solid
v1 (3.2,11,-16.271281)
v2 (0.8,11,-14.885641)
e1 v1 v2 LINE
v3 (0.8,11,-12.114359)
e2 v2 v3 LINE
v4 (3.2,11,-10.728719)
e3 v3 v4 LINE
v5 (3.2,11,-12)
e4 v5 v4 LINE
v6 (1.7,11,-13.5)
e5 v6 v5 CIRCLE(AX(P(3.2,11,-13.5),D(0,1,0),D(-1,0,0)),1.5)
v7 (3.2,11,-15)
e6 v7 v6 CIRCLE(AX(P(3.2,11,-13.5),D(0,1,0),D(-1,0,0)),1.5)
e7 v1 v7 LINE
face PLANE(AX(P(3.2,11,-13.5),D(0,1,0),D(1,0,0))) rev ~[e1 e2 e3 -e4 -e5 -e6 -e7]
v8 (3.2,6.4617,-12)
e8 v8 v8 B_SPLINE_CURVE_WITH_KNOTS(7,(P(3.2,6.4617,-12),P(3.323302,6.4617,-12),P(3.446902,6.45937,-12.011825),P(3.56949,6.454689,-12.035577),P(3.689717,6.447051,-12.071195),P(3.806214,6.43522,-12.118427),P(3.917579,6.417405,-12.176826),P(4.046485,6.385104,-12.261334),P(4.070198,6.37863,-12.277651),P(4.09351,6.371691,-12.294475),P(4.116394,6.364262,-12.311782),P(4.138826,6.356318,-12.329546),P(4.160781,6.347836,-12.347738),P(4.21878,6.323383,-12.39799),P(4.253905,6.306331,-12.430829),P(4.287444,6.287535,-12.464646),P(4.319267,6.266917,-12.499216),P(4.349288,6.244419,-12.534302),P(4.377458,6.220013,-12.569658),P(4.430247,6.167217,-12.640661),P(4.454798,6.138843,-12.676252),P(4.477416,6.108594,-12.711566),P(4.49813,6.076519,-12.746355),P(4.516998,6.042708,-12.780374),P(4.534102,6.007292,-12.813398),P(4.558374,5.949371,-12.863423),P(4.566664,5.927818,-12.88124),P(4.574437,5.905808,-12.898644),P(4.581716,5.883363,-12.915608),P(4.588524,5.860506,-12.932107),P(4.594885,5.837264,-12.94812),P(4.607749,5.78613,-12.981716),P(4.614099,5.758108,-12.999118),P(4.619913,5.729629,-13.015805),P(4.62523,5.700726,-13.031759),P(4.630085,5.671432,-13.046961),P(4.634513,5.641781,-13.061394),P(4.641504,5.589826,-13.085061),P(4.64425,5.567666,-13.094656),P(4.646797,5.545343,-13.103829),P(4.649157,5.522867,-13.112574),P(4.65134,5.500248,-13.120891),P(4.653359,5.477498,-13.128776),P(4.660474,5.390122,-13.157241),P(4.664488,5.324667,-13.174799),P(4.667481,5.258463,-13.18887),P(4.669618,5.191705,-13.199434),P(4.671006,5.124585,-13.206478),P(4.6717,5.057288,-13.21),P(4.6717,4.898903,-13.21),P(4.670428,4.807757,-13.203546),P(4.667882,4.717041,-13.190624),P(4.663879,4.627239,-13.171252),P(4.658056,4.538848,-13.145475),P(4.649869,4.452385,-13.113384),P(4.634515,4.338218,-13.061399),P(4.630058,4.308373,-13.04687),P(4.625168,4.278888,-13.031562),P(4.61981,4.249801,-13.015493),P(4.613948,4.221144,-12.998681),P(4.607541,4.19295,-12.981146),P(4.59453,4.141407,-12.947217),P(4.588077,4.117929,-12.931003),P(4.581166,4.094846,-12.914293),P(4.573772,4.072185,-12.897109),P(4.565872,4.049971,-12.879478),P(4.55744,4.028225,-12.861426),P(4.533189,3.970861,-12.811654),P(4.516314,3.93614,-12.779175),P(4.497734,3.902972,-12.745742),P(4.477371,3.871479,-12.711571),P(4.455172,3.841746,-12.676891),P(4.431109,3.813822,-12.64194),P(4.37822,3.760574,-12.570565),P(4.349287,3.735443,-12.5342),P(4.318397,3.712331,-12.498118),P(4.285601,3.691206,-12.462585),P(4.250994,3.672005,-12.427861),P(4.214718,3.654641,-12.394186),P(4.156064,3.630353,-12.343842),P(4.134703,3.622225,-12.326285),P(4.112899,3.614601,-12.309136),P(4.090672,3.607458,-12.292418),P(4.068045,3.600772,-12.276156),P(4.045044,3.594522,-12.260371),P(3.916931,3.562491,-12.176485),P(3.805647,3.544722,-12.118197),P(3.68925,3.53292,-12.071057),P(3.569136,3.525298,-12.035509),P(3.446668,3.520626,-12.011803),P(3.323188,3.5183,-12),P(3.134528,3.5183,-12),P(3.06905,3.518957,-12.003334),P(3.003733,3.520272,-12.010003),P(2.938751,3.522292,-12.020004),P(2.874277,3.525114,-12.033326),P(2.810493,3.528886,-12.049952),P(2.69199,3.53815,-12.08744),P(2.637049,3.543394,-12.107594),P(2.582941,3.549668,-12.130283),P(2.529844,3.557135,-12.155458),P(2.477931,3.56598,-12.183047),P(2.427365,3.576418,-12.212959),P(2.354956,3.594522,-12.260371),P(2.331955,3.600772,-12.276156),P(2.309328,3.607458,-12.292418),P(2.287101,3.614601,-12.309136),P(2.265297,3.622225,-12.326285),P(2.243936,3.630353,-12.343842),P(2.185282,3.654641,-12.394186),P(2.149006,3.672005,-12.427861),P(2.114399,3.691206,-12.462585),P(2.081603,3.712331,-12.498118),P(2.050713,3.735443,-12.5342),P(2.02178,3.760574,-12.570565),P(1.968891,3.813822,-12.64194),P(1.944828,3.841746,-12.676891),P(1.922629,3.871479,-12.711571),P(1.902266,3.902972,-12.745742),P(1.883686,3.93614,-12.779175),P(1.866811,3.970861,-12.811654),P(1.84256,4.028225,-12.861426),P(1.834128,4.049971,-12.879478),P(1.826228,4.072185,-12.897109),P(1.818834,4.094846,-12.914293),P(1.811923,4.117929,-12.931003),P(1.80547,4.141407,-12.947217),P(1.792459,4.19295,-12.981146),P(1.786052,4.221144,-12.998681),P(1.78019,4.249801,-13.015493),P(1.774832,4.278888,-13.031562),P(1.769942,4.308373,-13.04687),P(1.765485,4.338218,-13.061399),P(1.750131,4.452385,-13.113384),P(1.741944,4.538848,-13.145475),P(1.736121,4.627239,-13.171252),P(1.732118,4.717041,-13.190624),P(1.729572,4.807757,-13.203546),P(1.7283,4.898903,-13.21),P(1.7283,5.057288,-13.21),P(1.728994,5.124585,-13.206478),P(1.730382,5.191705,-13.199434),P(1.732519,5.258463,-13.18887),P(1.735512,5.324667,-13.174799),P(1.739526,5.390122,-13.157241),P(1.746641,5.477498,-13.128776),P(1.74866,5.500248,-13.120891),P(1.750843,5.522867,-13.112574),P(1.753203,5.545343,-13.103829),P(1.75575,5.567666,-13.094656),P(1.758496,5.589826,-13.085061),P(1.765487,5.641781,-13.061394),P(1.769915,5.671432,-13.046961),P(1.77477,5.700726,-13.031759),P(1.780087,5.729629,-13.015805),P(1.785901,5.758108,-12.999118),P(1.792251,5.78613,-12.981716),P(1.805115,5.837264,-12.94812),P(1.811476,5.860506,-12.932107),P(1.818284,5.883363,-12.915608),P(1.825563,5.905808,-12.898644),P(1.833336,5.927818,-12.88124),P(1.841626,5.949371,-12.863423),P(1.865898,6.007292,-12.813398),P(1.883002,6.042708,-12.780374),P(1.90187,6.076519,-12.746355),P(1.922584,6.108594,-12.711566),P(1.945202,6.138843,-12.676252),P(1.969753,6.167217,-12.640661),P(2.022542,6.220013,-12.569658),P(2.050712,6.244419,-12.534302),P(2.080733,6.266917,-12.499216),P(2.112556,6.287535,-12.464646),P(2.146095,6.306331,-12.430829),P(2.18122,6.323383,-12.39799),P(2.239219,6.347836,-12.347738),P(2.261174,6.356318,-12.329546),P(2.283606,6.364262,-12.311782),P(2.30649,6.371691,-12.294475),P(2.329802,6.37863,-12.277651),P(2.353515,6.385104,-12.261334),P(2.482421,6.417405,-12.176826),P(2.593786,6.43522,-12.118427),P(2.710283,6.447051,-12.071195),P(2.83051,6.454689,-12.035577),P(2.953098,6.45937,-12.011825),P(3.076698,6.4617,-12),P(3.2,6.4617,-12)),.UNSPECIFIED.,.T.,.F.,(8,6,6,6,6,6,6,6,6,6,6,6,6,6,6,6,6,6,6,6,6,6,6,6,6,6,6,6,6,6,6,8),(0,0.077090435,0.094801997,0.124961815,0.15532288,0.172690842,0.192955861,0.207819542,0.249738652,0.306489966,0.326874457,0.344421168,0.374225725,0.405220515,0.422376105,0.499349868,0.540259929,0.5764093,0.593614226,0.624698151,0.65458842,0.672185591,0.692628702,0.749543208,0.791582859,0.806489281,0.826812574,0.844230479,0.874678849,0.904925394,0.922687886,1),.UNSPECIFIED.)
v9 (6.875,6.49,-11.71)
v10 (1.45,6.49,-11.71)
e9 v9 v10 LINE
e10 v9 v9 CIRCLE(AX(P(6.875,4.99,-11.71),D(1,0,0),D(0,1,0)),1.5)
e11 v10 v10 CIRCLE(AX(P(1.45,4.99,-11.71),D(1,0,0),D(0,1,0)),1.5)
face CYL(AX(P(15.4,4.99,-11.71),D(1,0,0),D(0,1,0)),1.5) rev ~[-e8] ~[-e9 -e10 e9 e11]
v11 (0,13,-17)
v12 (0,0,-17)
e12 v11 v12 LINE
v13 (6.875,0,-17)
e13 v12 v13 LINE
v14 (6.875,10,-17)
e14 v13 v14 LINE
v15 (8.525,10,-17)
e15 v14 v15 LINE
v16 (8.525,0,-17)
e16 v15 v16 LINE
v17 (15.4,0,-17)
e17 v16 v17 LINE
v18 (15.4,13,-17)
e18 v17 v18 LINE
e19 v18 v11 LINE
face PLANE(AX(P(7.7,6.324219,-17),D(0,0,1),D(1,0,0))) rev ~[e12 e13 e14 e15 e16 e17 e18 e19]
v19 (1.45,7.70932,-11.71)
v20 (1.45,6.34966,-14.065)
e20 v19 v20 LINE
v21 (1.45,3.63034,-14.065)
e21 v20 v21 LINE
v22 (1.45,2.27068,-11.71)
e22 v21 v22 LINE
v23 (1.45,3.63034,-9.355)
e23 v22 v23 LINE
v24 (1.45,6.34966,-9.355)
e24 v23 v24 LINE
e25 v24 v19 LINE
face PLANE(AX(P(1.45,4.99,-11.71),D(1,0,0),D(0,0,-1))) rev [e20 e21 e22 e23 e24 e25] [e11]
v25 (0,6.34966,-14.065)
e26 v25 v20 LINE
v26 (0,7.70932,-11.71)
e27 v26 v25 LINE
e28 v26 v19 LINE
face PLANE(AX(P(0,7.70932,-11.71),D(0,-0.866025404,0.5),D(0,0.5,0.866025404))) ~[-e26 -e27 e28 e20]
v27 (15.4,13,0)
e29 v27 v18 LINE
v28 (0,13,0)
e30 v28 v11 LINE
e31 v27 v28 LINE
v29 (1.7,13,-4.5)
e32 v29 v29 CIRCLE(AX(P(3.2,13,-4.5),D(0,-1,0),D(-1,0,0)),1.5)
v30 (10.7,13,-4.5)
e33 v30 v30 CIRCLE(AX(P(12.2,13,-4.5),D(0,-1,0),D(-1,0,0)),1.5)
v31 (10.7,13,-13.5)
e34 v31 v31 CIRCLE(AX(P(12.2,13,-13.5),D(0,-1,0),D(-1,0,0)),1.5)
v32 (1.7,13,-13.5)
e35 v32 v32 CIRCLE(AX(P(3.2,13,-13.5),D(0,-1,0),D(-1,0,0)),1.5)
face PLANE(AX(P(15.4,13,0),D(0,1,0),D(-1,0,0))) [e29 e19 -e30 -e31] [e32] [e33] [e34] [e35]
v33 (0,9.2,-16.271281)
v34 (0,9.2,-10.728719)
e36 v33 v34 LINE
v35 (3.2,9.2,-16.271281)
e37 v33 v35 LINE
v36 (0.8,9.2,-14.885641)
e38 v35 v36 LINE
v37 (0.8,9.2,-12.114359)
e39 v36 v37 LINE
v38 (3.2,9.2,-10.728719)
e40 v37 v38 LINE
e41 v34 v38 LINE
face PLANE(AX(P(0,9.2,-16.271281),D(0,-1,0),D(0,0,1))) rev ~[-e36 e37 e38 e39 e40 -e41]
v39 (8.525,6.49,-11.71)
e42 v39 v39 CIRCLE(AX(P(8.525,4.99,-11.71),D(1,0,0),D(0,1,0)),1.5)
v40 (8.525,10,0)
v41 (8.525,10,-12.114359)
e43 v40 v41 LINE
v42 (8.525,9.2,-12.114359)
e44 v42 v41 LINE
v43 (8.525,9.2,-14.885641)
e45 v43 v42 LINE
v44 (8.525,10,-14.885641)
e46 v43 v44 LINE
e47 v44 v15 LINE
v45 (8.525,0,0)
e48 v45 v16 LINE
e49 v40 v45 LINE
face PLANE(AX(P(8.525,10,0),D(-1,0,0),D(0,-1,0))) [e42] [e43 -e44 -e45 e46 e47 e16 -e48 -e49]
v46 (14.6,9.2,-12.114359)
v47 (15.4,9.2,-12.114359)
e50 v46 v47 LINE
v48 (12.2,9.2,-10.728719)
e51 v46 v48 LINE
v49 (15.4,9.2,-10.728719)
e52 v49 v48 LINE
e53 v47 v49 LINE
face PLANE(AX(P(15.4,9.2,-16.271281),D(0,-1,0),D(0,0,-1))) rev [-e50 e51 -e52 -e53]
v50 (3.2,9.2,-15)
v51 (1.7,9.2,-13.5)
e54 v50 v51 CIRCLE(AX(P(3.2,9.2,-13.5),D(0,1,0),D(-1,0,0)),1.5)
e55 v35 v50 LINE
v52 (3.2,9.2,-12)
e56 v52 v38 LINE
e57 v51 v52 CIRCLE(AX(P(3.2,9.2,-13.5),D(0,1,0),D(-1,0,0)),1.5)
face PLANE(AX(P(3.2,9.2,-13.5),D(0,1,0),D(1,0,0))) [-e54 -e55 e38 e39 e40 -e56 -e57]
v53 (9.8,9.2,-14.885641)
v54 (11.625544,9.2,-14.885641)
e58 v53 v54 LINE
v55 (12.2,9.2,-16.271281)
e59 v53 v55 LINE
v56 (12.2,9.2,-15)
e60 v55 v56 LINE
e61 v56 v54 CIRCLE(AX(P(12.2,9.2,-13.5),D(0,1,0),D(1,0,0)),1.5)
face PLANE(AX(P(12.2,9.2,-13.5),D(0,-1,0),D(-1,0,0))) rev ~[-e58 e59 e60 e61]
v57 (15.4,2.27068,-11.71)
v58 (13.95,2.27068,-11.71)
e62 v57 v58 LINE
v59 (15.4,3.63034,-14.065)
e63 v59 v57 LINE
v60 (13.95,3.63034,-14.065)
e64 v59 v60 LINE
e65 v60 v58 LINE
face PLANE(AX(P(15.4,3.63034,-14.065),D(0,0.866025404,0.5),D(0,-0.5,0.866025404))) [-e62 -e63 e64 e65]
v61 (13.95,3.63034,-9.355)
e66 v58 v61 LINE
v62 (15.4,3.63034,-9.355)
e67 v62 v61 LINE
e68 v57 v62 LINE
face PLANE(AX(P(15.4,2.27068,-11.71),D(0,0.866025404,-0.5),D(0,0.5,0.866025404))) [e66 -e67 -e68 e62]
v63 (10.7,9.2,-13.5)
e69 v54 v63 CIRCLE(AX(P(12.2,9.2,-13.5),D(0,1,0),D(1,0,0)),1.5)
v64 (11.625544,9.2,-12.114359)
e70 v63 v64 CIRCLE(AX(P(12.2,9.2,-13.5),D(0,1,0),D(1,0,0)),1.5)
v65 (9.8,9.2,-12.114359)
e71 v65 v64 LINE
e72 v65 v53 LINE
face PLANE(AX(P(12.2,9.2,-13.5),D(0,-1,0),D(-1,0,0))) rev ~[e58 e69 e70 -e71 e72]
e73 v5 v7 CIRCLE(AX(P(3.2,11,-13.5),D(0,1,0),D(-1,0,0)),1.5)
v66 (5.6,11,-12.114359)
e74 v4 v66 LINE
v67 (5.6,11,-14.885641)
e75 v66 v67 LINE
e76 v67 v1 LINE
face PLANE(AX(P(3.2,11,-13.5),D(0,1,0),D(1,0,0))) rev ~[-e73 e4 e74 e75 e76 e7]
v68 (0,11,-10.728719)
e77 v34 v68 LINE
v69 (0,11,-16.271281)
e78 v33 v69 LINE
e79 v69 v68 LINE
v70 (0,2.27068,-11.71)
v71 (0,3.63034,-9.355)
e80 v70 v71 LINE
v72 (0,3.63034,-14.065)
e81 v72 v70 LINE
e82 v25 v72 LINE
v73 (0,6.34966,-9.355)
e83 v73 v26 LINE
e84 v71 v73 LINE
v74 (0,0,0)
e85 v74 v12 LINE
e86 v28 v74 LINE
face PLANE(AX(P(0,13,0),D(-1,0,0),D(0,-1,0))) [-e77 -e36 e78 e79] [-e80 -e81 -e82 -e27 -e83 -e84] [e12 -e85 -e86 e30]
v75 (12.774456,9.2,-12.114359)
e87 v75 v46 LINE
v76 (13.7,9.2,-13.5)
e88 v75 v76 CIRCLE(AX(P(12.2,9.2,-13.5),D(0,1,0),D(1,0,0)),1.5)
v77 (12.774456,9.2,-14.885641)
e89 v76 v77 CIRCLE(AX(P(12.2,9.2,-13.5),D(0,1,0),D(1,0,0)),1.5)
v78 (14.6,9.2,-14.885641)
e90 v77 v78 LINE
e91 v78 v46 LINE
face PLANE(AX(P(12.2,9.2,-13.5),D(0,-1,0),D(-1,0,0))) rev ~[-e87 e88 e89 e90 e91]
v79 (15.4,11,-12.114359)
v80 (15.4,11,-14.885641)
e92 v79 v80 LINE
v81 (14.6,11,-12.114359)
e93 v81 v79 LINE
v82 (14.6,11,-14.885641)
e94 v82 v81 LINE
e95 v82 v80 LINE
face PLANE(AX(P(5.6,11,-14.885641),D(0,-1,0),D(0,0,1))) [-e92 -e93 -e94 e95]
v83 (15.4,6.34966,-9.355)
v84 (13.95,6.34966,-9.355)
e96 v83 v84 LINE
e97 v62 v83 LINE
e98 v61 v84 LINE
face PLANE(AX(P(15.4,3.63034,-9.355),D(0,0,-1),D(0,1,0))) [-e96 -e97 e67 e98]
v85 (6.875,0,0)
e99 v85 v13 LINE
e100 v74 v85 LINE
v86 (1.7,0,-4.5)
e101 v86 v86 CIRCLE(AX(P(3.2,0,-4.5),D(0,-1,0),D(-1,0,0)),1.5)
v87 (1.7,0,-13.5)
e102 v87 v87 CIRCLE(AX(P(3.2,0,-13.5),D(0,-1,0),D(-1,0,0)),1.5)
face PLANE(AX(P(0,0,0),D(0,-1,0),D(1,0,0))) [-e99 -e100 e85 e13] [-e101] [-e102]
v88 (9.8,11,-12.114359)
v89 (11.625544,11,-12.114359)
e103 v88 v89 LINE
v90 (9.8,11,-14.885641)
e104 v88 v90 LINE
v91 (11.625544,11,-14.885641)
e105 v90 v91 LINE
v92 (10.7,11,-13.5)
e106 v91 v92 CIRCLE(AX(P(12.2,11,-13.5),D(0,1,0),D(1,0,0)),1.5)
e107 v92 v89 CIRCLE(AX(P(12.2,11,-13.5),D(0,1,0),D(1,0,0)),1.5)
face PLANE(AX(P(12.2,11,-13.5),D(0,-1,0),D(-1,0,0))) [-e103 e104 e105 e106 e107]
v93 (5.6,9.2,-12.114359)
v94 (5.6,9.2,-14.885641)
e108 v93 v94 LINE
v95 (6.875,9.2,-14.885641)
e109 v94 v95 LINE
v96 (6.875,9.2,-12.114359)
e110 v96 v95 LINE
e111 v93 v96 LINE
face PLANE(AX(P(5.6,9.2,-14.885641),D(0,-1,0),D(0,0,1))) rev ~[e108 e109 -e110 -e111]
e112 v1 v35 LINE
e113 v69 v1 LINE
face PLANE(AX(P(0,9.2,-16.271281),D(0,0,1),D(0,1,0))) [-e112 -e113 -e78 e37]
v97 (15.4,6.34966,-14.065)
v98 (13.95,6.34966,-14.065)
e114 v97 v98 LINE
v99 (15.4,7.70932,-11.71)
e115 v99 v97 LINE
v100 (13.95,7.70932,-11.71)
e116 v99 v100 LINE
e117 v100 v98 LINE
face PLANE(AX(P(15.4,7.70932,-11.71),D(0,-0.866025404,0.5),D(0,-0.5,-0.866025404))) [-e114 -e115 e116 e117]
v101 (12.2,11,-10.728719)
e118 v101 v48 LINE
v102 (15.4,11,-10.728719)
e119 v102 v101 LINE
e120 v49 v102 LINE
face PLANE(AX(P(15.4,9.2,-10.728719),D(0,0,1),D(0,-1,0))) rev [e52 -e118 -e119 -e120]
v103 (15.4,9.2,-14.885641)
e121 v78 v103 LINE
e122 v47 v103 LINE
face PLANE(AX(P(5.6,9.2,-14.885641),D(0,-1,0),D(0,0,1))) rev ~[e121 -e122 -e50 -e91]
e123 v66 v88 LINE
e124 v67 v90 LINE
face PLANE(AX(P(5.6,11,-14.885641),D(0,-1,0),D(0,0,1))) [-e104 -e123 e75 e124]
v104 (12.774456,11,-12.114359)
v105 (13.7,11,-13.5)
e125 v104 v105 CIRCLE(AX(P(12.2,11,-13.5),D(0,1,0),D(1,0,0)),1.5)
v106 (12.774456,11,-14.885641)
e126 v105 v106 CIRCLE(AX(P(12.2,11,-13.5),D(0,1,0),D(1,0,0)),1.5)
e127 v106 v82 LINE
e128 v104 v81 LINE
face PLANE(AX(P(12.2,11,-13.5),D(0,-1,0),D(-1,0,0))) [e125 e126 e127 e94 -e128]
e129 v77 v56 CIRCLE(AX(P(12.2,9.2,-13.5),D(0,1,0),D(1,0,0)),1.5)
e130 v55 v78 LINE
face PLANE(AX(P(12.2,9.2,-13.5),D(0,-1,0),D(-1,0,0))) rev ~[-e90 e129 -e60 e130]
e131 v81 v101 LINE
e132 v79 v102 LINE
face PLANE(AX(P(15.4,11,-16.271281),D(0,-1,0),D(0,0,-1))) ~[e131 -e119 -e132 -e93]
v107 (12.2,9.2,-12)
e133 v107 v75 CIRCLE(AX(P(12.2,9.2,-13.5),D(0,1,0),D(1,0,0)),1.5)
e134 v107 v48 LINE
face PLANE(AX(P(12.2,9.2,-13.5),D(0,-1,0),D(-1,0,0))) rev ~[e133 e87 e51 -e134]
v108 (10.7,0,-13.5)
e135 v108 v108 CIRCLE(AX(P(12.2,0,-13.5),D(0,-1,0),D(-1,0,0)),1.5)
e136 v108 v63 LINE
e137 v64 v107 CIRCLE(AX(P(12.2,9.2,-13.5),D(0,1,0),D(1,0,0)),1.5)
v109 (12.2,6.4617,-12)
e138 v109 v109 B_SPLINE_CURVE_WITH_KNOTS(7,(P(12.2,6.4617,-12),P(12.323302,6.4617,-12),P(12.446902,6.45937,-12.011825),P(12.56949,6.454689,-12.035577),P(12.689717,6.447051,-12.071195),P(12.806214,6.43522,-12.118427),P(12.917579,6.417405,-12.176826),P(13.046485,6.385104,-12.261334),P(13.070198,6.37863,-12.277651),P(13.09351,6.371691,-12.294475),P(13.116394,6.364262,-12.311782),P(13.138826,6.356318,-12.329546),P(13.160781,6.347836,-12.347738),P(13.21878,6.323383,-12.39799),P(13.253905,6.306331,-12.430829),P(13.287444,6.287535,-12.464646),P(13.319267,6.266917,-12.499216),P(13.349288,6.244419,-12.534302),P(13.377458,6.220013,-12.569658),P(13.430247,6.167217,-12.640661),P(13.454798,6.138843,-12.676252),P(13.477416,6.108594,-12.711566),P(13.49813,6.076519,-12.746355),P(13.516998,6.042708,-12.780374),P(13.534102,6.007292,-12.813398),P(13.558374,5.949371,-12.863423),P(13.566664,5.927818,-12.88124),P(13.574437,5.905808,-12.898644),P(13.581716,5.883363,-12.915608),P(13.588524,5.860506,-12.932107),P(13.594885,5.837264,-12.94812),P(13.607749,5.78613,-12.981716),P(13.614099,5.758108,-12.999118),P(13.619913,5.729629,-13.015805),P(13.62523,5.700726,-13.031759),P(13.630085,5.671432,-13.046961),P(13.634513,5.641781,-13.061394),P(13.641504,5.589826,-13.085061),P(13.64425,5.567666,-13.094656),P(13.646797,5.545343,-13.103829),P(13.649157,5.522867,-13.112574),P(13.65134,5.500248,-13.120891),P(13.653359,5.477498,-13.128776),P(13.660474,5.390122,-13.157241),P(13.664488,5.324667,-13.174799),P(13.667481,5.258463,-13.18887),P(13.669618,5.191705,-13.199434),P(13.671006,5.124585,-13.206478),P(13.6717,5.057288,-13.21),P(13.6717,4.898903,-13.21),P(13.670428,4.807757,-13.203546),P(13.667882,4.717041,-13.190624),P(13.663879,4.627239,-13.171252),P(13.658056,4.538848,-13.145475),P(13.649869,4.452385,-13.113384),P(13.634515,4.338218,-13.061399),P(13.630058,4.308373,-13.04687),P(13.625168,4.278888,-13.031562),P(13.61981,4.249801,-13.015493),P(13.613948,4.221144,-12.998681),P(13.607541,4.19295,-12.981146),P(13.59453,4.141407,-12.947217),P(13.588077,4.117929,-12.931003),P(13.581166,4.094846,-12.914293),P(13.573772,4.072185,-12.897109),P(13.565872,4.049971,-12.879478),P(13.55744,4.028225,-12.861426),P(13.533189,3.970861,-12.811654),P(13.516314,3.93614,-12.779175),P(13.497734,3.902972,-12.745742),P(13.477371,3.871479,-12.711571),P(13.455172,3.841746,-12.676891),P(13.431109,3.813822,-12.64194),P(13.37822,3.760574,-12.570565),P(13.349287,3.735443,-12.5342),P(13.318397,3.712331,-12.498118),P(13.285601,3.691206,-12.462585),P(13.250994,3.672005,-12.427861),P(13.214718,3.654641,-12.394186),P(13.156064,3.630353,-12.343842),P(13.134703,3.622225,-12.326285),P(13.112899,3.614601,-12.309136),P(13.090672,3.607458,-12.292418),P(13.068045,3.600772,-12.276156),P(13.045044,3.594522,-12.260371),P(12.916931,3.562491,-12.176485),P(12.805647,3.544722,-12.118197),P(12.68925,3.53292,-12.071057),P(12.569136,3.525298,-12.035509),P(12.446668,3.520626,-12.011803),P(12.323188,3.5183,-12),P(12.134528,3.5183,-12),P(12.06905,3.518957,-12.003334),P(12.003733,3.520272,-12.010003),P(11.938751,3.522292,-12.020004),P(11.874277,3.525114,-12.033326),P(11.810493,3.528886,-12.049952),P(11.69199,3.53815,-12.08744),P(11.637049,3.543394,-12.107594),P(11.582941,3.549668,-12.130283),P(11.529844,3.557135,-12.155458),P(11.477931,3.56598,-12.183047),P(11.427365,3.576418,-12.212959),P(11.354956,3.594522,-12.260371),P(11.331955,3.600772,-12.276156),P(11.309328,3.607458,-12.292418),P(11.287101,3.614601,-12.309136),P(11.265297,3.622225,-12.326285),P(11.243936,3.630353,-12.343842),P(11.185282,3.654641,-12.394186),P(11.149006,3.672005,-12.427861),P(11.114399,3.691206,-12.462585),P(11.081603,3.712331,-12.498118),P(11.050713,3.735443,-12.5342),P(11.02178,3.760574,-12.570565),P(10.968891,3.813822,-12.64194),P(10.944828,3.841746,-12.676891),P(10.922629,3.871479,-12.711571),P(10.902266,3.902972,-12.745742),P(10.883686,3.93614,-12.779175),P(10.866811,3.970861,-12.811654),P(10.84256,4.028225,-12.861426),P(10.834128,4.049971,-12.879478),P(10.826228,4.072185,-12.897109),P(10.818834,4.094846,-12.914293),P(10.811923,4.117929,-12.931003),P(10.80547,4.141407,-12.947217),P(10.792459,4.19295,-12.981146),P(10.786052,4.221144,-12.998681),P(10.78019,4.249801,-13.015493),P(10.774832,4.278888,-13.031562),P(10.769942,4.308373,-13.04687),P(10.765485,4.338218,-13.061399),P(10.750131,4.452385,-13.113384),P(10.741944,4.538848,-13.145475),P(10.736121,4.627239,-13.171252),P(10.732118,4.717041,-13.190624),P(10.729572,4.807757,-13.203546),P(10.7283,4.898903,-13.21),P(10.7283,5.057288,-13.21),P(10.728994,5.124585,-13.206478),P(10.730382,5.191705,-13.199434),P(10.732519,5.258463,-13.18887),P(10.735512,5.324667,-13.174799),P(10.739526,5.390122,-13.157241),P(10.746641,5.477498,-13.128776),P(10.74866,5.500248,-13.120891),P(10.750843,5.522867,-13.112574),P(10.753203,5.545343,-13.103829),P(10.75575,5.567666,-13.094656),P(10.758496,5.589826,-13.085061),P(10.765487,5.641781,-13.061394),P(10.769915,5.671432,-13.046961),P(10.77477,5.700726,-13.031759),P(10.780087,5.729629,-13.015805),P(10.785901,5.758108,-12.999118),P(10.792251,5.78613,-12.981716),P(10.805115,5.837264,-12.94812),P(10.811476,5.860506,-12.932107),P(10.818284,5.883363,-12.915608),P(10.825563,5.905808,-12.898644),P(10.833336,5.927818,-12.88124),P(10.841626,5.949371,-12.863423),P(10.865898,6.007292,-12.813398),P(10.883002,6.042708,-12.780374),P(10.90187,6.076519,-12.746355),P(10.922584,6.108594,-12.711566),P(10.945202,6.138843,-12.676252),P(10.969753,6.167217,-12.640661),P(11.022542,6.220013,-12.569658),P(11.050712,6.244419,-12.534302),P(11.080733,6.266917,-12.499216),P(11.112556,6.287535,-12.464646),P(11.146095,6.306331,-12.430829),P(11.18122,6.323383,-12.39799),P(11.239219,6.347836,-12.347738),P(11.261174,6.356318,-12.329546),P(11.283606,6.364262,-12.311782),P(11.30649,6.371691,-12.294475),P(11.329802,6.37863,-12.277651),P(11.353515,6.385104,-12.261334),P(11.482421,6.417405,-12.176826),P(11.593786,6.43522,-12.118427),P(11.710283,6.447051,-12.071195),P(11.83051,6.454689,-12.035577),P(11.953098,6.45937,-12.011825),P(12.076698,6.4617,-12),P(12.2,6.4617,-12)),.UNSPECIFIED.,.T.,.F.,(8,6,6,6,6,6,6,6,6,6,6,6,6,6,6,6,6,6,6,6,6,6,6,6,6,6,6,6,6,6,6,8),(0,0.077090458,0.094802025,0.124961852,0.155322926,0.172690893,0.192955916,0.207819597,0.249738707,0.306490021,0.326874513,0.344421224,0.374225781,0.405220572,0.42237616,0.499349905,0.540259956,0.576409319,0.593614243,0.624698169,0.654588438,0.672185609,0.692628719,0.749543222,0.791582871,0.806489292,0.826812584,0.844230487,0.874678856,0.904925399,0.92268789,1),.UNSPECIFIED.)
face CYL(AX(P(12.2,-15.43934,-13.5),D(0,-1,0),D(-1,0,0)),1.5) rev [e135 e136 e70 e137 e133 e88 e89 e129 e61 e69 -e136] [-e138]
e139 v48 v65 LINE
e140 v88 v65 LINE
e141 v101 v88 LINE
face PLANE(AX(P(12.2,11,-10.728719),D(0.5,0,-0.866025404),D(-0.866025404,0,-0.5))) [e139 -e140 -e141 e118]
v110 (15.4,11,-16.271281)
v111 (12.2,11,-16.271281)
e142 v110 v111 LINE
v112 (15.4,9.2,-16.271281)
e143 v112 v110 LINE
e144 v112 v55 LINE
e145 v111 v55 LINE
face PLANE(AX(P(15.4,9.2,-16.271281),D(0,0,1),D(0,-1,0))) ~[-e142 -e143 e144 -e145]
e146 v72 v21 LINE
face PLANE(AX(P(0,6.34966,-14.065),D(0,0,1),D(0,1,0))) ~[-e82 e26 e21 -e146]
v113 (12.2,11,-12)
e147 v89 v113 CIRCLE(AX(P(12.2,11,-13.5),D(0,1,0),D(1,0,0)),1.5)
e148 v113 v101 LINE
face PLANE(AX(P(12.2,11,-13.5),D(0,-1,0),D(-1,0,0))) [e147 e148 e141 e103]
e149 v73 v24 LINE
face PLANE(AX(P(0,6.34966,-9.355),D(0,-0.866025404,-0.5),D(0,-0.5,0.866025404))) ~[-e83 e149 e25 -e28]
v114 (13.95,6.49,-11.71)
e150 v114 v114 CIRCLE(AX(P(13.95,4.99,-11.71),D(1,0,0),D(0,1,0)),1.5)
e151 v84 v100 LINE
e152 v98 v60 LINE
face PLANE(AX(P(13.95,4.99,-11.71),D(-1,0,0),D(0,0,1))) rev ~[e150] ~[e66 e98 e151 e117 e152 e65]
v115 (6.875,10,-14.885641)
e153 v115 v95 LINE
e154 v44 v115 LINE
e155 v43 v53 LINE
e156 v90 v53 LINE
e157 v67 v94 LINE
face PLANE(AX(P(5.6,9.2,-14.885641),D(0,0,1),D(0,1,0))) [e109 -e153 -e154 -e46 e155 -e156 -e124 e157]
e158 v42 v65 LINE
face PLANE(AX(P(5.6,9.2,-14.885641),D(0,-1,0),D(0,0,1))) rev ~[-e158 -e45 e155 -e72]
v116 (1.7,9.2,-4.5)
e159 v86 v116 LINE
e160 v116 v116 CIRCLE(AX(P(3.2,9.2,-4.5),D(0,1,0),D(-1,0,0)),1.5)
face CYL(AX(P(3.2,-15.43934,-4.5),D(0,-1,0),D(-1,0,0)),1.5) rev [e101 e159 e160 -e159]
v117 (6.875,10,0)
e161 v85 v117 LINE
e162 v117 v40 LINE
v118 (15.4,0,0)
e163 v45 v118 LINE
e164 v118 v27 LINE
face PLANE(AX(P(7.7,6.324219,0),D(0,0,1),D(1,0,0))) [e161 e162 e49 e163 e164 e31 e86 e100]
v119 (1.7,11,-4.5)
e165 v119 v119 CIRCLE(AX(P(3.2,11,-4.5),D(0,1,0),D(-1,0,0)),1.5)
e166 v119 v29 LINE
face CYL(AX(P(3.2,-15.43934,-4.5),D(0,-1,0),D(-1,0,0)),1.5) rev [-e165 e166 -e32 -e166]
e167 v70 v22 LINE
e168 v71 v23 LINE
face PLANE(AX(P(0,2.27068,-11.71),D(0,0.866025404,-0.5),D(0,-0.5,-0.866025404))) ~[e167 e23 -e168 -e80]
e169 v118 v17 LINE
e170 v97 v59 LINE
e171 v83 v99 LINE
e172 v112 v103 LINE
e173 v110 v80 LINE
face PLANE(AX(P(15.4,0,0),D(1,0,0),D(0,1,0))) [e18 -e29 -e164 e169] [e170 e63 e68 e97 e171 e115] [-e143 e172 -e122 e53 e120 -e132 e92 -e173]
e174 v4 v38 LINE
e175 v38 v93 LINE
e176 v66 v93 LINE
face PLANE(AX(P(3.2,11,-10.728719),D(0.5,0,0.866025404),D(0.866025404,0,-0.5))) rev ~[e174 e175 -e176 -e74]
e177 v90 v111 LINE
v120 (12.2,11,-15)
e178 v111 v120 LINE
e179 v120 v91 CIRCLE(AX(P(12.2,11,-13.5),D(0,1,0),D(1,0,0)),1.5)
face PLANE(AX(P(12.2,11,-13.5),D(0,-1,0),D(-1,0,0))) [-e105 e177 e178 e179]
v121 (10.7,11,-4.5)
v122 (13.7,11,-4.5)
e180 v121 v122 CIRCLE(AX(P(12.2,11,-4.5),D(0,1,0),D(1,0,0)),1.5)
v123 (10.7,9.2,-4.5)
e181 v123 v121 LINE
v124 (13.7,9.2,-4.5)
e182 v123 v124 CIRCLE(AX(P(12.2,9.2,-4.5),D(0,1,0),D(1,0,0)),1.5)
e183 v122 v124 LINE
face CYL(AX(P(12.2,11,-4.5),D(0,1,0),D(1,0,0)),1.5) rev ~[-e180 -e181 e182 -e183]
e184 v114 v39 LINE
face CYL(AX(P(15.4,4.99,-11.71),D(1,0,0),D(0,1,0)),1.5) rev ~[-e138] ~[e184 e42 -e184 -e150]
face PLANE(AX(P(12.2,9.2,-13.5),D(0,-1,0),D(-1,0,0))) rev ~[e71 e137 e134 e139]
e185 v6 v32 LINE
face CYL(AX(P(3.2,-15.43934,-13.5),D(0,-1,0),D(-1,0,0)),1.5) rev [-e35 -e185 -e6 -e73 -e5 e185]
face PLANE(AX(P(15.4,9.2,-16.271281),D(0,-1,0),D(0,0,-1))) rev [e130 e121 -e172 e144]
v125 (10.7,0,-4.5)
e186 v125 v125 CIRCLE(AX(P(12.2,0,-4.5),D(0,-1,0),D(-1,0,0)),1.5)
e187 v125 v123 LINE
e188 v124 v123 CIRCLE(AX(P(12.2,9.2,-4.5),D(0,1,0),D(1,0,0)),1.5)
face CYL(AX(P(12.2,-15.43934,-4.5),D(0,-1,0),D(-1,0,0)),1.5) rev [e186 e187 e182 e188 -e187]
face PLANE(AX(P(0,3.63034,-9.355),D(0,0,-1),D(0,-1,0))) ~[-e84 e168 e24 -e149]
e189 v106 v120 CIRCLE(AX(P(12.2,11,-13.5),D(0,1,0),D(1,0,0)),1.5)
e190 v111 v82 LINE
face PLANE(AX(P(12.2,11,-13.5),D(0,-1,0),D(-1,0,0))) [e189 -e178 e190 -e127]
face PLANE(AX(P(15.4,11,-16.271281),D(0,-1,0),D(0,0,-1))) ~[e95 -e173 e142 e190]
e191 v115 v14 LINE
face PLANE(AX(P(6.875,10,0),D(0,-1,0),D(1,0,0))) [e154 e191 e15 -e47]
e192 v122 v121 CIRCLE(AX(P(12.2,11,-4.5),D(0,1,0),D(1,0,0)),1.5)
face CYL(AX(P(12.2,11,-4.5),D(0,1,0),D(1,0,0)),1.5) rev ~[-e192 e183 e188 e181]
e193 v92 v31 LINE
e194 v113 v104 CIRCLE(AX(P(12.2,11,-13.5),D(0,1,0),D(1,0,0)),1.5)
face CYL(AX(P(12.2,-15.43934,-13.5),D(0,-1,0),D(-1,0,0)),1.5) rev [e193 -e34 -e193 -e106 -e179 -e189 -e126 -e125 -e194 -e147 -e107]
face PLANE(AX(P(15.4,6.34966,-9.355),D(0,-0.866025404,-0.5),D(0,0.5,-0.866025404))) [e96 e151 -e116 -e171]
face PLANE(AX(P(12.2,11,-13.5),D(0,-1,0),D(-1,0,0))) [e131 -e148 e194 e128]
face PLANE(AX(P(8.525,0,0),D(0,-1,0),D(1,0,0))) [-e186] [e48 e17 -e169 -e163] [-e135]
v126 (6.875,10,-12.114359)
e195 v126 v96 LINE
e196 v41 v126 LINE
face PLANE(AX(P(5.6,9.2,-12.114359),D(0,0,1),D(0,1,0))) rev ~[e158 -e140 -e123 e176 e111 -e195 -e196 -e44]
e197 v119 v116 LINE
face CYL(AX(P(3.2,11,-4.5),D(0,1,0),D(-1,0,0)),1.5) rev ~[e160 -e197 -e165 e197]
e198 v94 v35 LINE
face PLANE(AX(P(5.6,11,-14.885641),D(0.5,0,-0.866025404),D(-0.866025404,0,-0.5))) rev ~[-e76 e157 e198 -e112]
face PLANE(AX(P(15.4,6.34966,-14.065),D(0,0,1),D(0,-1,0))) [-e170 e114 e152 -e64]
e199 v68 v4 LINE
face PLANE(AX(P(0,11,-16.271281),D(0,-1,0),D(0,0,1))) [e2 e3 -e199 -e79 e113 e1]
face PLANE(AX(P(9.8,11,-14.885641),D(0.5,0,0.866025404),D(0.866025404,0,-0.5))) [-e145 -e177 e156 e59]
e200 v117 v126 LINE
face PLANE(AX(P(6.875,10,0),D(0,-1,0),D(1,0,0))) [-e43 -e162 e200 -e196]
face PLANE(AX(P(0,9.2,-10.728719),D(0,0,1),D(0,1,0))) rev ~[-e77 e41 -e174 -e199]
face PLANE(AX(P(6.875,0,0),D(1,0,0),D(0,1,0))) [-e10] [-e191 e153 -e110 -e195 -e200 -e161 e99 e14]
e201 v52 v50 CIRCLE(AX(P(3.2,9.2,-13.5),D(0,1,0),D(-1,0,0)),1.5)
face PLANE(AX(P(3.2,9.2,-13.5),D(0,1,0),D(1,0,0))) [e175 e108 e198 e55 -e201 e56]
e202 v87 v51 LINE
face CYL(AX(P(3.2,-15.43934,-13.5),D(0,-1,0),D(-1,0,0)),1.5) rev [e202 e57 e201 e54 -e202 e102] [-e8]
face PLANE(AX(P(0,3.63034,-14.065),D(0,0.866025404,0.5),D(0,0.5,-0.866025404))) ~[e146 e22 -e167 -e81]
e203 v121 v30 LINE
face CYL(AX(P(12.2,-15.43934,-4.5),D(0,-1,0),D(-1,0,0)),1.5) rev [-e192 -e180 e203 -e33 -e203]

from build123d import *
from build123d.topology import SkipClean

# Parameters (mm, degrees)
BOSS_EXTRUDE1_DEPTH     = 17
SKETCH3_R               = 1.5
CUT_EXTRUDE1_DEPTH      = 27.365887051
SKETCH4_3_R             = 1.5
CUT_EXTRUDE3_DEPTH      = 1.8
CUT_EXTRUDE2_DEPTH      = 26.439339614
CUT_EXTRUDE2_DEPTH_BACK = 26.439339614
SKETCH4_R               = 1.5
SKETCH3_3_R             = 1.5
CUT_EXTRUDE4_DEPTH      = 1.45
SKETCH6_W               = 5.542562584
SKETCH6_H               = 1.8
CUT_EXTRUDE5_DEPTH      = 3.2
SKETCH7_W               = 2.771281292
SKETCH7_H               = 1.8
CUT_EXTRUDE6_DEPTH      = 24.538054295


with BuildPart() as part:
    # Sketch2 → Boss-Extrude1 (new body)
    with BuildSketch(Plane.XY):
        Polygon((0, 0), (6.875, 0), (6.875, 10), (8.525, 10), (8.525, 0), (15.4, 0), (15.4, 13), (0, 13), align=None)
    extrude(amount=-BOSS_EXTRUDE1_DEPTH)

    # Sketch3 → Cut-Extrude1 (cut, through all)
    with BuildSketch(Plane(origin=(15.4, 0, 0), x_dir=(0, 0, -1), z_dir=(1, 0, 0))):
        with Locations(Location((11.71, 4.99, 0), (0, 0, 90))):
            Circle(SKETCH3_R)
    extrude(amount=-CUT_EXTRUDE1_DEPTH, mode=Mode.SUBTRACT)

    # Sketch4<3> → Cut-Extrude3 (cut)
    # profile 1 of 4: a face of its own
    with BuildSketch(Plane(origin=(0, 11, 0), x_dir=(1, 0, 0), z_dir=(0, 1, 0))):
        with Locations(Location((3.2, 4.5, 0), (0, 0, 180))):
            Circle(SKETCH4_3_R)
    # profile 2 of 4: a face of its own
    with BuildSketch(Plane(origin=(0, 11, 0), x_dir=(1, 0, 0), z_dir=(0, 1, 0))):
        with Locations((12.2, 4.5)):
            Circle(SKETCH4_3_R)
    # profile 3 of 4: a face of its own
    with BuildSketch(Plane(origin=(0, 11, 0), x_dir=(1, 0, 0), z_dir=(0, 1, 0))):
        Polygon((9.8, 12.114359354), (9.8, 14.885640646), (12.2, 16.271281292), (14.6, 14.885640646), (14.6, 12.114359354), (12.2, 10.728718708), align=None)
        with Locations((12.2, 13.5)):
            Circle(SKETCH4_3_R, mode=Mode.SUBTRACT)
    # profile 4 of 4: a face of its own
    with BuildSketch(Plane(origin=(0, 11, 0), x_dir=(1, 0, 0), z_dir=(0, 1, 0))):
        Polygon((3.2, 16.271281292), (0.8, 14.885640646), (0.8, 12.114359354), (3.2, 10.728718708), (5.6, 12.114359354), (5.6, 14.885640646), align=None)
        with Locations(Location((3.2, 13.5, 0), (0, 0, 180))):
            Circle(SKETCH4_3_R, mode=Mode.SUBTRACT)
    extrude(amount=-CUT_EXTRUDE3_DEPTH, mode=Mode.SUBTRACT)

    # Sketch4 → Cut-Extrude2 (cut, two sides: drawn at the far end of the back side and taken through both)
    with SkipClean():  # the faces are left unmerged after this step: merging them gives an invalid solid
        with BuildSketch(Plane(origin=(0, 11, 0), x_dir=(1, 0, 0), z_dir=(0, 1, 0)).offset(-CUT_EXTRUDE2_DEPTH_BACK)):
            with Locations(Location((3.2, 13.5, 0), (0, 0, 180))):
                Circle(SKETCH4_R)
            with Locations(Location((12.2, 13.5, 0), (0, 0, 180))):
                Circle(SKETCH4_R)
            with Locations(Location((3.2, 4.5, 0), (0, 0, 180))):
                Circle(SKETCH4_R)
            with Locations(Location((12.2, 4.5, 0), (0, 0, 180))):
                Circle(SKETCH4_R)
        extrude(amount=CUT_EXTRUDE2_DEPTH + CUT_EXTRUDE2_DEPTH_BACK, mode=Mode.SUBTRACT)

    # Sketch3<3> → Cut-Extrude4 (cut)
    with SkipClean():  # the faces are left unmerged after this step: merging them gives an invalid solid
        with BuildSketch(Plane(origin=(15.4, 0, 0), x_dir=(0, 0, -1), z_dir=(1, 0, 0))):
            Polygon((14.065, 3.630340116), (11.71, 2.270680232), (9.355, 3.630340116), (9.355, 6.349659884), (11.71, 7.709319768), (14.065, 6.349659884), align=None)
            with Locations(Location((11.71, 4.99, 0), (0, 0, 90))):
                Circle(SKETCH3_3_R, mode=Mode.SUBTRACT)
        cut_extrude4 = extrude(amount=-CUT_EXTRUDE4_DEPTH, mode=Mode.SUBTRACT)

    # Mirror1: Cut-Extrude4 across plane
    with SkipClean():  # the faces are left unmerged after this step: merging them gives an invalid solid
        add(cut_extrude4.mirror(Plane(origin=(7.7, 0, 0), x_dir=(0, 0, 1), z_dir=(1, 0, 0))), mode=Mode.SUBTRACT)

    # Sketch6 → Cut-Extrude5 (cut)
    with SkipClean():  # the faces are left unmerged after this step: merging them gives an invalid solid
        with BuildSketch(Plane.ZY):
            with Locations((-13.5, 10.1)):
                Rectangle(SKETCH6_W, SKETCH6_H)
        cut_extrude5 = extrude(amount=-CUT_EXTRUDE5_DEPTH, mode=Mode.SUBTRACT)

    # Sketch7 → Cut-Extrude6 (cut, through all)
    with SkipClean():  # the faces are left unmerged after this step: merging them gives an invalid solid
        with BuildSketch(Plane.ZY.offset(-5.6)):
            with Locations((-13.5, 10.1)):
                Rectangle(SKETCH7_W, SKETCH7_H)
        extrude(amount=-CUT_EXTRUDE6_DEPTH, mode=Mode.SUBTRACT)

    # Mirror2: Cut-Extrude5 across plane
    with SkipClean():  # the faces are left unmerged after this step: merging them gives an invalid solid
        add(cut_extrude5.mirror(Plane(origin=(7.7, 0, 0), x_dir=(0, 0, 1), z_dir=(1, 0, 0))), mode=Mode.SUBTRACT)


solid = part.part
